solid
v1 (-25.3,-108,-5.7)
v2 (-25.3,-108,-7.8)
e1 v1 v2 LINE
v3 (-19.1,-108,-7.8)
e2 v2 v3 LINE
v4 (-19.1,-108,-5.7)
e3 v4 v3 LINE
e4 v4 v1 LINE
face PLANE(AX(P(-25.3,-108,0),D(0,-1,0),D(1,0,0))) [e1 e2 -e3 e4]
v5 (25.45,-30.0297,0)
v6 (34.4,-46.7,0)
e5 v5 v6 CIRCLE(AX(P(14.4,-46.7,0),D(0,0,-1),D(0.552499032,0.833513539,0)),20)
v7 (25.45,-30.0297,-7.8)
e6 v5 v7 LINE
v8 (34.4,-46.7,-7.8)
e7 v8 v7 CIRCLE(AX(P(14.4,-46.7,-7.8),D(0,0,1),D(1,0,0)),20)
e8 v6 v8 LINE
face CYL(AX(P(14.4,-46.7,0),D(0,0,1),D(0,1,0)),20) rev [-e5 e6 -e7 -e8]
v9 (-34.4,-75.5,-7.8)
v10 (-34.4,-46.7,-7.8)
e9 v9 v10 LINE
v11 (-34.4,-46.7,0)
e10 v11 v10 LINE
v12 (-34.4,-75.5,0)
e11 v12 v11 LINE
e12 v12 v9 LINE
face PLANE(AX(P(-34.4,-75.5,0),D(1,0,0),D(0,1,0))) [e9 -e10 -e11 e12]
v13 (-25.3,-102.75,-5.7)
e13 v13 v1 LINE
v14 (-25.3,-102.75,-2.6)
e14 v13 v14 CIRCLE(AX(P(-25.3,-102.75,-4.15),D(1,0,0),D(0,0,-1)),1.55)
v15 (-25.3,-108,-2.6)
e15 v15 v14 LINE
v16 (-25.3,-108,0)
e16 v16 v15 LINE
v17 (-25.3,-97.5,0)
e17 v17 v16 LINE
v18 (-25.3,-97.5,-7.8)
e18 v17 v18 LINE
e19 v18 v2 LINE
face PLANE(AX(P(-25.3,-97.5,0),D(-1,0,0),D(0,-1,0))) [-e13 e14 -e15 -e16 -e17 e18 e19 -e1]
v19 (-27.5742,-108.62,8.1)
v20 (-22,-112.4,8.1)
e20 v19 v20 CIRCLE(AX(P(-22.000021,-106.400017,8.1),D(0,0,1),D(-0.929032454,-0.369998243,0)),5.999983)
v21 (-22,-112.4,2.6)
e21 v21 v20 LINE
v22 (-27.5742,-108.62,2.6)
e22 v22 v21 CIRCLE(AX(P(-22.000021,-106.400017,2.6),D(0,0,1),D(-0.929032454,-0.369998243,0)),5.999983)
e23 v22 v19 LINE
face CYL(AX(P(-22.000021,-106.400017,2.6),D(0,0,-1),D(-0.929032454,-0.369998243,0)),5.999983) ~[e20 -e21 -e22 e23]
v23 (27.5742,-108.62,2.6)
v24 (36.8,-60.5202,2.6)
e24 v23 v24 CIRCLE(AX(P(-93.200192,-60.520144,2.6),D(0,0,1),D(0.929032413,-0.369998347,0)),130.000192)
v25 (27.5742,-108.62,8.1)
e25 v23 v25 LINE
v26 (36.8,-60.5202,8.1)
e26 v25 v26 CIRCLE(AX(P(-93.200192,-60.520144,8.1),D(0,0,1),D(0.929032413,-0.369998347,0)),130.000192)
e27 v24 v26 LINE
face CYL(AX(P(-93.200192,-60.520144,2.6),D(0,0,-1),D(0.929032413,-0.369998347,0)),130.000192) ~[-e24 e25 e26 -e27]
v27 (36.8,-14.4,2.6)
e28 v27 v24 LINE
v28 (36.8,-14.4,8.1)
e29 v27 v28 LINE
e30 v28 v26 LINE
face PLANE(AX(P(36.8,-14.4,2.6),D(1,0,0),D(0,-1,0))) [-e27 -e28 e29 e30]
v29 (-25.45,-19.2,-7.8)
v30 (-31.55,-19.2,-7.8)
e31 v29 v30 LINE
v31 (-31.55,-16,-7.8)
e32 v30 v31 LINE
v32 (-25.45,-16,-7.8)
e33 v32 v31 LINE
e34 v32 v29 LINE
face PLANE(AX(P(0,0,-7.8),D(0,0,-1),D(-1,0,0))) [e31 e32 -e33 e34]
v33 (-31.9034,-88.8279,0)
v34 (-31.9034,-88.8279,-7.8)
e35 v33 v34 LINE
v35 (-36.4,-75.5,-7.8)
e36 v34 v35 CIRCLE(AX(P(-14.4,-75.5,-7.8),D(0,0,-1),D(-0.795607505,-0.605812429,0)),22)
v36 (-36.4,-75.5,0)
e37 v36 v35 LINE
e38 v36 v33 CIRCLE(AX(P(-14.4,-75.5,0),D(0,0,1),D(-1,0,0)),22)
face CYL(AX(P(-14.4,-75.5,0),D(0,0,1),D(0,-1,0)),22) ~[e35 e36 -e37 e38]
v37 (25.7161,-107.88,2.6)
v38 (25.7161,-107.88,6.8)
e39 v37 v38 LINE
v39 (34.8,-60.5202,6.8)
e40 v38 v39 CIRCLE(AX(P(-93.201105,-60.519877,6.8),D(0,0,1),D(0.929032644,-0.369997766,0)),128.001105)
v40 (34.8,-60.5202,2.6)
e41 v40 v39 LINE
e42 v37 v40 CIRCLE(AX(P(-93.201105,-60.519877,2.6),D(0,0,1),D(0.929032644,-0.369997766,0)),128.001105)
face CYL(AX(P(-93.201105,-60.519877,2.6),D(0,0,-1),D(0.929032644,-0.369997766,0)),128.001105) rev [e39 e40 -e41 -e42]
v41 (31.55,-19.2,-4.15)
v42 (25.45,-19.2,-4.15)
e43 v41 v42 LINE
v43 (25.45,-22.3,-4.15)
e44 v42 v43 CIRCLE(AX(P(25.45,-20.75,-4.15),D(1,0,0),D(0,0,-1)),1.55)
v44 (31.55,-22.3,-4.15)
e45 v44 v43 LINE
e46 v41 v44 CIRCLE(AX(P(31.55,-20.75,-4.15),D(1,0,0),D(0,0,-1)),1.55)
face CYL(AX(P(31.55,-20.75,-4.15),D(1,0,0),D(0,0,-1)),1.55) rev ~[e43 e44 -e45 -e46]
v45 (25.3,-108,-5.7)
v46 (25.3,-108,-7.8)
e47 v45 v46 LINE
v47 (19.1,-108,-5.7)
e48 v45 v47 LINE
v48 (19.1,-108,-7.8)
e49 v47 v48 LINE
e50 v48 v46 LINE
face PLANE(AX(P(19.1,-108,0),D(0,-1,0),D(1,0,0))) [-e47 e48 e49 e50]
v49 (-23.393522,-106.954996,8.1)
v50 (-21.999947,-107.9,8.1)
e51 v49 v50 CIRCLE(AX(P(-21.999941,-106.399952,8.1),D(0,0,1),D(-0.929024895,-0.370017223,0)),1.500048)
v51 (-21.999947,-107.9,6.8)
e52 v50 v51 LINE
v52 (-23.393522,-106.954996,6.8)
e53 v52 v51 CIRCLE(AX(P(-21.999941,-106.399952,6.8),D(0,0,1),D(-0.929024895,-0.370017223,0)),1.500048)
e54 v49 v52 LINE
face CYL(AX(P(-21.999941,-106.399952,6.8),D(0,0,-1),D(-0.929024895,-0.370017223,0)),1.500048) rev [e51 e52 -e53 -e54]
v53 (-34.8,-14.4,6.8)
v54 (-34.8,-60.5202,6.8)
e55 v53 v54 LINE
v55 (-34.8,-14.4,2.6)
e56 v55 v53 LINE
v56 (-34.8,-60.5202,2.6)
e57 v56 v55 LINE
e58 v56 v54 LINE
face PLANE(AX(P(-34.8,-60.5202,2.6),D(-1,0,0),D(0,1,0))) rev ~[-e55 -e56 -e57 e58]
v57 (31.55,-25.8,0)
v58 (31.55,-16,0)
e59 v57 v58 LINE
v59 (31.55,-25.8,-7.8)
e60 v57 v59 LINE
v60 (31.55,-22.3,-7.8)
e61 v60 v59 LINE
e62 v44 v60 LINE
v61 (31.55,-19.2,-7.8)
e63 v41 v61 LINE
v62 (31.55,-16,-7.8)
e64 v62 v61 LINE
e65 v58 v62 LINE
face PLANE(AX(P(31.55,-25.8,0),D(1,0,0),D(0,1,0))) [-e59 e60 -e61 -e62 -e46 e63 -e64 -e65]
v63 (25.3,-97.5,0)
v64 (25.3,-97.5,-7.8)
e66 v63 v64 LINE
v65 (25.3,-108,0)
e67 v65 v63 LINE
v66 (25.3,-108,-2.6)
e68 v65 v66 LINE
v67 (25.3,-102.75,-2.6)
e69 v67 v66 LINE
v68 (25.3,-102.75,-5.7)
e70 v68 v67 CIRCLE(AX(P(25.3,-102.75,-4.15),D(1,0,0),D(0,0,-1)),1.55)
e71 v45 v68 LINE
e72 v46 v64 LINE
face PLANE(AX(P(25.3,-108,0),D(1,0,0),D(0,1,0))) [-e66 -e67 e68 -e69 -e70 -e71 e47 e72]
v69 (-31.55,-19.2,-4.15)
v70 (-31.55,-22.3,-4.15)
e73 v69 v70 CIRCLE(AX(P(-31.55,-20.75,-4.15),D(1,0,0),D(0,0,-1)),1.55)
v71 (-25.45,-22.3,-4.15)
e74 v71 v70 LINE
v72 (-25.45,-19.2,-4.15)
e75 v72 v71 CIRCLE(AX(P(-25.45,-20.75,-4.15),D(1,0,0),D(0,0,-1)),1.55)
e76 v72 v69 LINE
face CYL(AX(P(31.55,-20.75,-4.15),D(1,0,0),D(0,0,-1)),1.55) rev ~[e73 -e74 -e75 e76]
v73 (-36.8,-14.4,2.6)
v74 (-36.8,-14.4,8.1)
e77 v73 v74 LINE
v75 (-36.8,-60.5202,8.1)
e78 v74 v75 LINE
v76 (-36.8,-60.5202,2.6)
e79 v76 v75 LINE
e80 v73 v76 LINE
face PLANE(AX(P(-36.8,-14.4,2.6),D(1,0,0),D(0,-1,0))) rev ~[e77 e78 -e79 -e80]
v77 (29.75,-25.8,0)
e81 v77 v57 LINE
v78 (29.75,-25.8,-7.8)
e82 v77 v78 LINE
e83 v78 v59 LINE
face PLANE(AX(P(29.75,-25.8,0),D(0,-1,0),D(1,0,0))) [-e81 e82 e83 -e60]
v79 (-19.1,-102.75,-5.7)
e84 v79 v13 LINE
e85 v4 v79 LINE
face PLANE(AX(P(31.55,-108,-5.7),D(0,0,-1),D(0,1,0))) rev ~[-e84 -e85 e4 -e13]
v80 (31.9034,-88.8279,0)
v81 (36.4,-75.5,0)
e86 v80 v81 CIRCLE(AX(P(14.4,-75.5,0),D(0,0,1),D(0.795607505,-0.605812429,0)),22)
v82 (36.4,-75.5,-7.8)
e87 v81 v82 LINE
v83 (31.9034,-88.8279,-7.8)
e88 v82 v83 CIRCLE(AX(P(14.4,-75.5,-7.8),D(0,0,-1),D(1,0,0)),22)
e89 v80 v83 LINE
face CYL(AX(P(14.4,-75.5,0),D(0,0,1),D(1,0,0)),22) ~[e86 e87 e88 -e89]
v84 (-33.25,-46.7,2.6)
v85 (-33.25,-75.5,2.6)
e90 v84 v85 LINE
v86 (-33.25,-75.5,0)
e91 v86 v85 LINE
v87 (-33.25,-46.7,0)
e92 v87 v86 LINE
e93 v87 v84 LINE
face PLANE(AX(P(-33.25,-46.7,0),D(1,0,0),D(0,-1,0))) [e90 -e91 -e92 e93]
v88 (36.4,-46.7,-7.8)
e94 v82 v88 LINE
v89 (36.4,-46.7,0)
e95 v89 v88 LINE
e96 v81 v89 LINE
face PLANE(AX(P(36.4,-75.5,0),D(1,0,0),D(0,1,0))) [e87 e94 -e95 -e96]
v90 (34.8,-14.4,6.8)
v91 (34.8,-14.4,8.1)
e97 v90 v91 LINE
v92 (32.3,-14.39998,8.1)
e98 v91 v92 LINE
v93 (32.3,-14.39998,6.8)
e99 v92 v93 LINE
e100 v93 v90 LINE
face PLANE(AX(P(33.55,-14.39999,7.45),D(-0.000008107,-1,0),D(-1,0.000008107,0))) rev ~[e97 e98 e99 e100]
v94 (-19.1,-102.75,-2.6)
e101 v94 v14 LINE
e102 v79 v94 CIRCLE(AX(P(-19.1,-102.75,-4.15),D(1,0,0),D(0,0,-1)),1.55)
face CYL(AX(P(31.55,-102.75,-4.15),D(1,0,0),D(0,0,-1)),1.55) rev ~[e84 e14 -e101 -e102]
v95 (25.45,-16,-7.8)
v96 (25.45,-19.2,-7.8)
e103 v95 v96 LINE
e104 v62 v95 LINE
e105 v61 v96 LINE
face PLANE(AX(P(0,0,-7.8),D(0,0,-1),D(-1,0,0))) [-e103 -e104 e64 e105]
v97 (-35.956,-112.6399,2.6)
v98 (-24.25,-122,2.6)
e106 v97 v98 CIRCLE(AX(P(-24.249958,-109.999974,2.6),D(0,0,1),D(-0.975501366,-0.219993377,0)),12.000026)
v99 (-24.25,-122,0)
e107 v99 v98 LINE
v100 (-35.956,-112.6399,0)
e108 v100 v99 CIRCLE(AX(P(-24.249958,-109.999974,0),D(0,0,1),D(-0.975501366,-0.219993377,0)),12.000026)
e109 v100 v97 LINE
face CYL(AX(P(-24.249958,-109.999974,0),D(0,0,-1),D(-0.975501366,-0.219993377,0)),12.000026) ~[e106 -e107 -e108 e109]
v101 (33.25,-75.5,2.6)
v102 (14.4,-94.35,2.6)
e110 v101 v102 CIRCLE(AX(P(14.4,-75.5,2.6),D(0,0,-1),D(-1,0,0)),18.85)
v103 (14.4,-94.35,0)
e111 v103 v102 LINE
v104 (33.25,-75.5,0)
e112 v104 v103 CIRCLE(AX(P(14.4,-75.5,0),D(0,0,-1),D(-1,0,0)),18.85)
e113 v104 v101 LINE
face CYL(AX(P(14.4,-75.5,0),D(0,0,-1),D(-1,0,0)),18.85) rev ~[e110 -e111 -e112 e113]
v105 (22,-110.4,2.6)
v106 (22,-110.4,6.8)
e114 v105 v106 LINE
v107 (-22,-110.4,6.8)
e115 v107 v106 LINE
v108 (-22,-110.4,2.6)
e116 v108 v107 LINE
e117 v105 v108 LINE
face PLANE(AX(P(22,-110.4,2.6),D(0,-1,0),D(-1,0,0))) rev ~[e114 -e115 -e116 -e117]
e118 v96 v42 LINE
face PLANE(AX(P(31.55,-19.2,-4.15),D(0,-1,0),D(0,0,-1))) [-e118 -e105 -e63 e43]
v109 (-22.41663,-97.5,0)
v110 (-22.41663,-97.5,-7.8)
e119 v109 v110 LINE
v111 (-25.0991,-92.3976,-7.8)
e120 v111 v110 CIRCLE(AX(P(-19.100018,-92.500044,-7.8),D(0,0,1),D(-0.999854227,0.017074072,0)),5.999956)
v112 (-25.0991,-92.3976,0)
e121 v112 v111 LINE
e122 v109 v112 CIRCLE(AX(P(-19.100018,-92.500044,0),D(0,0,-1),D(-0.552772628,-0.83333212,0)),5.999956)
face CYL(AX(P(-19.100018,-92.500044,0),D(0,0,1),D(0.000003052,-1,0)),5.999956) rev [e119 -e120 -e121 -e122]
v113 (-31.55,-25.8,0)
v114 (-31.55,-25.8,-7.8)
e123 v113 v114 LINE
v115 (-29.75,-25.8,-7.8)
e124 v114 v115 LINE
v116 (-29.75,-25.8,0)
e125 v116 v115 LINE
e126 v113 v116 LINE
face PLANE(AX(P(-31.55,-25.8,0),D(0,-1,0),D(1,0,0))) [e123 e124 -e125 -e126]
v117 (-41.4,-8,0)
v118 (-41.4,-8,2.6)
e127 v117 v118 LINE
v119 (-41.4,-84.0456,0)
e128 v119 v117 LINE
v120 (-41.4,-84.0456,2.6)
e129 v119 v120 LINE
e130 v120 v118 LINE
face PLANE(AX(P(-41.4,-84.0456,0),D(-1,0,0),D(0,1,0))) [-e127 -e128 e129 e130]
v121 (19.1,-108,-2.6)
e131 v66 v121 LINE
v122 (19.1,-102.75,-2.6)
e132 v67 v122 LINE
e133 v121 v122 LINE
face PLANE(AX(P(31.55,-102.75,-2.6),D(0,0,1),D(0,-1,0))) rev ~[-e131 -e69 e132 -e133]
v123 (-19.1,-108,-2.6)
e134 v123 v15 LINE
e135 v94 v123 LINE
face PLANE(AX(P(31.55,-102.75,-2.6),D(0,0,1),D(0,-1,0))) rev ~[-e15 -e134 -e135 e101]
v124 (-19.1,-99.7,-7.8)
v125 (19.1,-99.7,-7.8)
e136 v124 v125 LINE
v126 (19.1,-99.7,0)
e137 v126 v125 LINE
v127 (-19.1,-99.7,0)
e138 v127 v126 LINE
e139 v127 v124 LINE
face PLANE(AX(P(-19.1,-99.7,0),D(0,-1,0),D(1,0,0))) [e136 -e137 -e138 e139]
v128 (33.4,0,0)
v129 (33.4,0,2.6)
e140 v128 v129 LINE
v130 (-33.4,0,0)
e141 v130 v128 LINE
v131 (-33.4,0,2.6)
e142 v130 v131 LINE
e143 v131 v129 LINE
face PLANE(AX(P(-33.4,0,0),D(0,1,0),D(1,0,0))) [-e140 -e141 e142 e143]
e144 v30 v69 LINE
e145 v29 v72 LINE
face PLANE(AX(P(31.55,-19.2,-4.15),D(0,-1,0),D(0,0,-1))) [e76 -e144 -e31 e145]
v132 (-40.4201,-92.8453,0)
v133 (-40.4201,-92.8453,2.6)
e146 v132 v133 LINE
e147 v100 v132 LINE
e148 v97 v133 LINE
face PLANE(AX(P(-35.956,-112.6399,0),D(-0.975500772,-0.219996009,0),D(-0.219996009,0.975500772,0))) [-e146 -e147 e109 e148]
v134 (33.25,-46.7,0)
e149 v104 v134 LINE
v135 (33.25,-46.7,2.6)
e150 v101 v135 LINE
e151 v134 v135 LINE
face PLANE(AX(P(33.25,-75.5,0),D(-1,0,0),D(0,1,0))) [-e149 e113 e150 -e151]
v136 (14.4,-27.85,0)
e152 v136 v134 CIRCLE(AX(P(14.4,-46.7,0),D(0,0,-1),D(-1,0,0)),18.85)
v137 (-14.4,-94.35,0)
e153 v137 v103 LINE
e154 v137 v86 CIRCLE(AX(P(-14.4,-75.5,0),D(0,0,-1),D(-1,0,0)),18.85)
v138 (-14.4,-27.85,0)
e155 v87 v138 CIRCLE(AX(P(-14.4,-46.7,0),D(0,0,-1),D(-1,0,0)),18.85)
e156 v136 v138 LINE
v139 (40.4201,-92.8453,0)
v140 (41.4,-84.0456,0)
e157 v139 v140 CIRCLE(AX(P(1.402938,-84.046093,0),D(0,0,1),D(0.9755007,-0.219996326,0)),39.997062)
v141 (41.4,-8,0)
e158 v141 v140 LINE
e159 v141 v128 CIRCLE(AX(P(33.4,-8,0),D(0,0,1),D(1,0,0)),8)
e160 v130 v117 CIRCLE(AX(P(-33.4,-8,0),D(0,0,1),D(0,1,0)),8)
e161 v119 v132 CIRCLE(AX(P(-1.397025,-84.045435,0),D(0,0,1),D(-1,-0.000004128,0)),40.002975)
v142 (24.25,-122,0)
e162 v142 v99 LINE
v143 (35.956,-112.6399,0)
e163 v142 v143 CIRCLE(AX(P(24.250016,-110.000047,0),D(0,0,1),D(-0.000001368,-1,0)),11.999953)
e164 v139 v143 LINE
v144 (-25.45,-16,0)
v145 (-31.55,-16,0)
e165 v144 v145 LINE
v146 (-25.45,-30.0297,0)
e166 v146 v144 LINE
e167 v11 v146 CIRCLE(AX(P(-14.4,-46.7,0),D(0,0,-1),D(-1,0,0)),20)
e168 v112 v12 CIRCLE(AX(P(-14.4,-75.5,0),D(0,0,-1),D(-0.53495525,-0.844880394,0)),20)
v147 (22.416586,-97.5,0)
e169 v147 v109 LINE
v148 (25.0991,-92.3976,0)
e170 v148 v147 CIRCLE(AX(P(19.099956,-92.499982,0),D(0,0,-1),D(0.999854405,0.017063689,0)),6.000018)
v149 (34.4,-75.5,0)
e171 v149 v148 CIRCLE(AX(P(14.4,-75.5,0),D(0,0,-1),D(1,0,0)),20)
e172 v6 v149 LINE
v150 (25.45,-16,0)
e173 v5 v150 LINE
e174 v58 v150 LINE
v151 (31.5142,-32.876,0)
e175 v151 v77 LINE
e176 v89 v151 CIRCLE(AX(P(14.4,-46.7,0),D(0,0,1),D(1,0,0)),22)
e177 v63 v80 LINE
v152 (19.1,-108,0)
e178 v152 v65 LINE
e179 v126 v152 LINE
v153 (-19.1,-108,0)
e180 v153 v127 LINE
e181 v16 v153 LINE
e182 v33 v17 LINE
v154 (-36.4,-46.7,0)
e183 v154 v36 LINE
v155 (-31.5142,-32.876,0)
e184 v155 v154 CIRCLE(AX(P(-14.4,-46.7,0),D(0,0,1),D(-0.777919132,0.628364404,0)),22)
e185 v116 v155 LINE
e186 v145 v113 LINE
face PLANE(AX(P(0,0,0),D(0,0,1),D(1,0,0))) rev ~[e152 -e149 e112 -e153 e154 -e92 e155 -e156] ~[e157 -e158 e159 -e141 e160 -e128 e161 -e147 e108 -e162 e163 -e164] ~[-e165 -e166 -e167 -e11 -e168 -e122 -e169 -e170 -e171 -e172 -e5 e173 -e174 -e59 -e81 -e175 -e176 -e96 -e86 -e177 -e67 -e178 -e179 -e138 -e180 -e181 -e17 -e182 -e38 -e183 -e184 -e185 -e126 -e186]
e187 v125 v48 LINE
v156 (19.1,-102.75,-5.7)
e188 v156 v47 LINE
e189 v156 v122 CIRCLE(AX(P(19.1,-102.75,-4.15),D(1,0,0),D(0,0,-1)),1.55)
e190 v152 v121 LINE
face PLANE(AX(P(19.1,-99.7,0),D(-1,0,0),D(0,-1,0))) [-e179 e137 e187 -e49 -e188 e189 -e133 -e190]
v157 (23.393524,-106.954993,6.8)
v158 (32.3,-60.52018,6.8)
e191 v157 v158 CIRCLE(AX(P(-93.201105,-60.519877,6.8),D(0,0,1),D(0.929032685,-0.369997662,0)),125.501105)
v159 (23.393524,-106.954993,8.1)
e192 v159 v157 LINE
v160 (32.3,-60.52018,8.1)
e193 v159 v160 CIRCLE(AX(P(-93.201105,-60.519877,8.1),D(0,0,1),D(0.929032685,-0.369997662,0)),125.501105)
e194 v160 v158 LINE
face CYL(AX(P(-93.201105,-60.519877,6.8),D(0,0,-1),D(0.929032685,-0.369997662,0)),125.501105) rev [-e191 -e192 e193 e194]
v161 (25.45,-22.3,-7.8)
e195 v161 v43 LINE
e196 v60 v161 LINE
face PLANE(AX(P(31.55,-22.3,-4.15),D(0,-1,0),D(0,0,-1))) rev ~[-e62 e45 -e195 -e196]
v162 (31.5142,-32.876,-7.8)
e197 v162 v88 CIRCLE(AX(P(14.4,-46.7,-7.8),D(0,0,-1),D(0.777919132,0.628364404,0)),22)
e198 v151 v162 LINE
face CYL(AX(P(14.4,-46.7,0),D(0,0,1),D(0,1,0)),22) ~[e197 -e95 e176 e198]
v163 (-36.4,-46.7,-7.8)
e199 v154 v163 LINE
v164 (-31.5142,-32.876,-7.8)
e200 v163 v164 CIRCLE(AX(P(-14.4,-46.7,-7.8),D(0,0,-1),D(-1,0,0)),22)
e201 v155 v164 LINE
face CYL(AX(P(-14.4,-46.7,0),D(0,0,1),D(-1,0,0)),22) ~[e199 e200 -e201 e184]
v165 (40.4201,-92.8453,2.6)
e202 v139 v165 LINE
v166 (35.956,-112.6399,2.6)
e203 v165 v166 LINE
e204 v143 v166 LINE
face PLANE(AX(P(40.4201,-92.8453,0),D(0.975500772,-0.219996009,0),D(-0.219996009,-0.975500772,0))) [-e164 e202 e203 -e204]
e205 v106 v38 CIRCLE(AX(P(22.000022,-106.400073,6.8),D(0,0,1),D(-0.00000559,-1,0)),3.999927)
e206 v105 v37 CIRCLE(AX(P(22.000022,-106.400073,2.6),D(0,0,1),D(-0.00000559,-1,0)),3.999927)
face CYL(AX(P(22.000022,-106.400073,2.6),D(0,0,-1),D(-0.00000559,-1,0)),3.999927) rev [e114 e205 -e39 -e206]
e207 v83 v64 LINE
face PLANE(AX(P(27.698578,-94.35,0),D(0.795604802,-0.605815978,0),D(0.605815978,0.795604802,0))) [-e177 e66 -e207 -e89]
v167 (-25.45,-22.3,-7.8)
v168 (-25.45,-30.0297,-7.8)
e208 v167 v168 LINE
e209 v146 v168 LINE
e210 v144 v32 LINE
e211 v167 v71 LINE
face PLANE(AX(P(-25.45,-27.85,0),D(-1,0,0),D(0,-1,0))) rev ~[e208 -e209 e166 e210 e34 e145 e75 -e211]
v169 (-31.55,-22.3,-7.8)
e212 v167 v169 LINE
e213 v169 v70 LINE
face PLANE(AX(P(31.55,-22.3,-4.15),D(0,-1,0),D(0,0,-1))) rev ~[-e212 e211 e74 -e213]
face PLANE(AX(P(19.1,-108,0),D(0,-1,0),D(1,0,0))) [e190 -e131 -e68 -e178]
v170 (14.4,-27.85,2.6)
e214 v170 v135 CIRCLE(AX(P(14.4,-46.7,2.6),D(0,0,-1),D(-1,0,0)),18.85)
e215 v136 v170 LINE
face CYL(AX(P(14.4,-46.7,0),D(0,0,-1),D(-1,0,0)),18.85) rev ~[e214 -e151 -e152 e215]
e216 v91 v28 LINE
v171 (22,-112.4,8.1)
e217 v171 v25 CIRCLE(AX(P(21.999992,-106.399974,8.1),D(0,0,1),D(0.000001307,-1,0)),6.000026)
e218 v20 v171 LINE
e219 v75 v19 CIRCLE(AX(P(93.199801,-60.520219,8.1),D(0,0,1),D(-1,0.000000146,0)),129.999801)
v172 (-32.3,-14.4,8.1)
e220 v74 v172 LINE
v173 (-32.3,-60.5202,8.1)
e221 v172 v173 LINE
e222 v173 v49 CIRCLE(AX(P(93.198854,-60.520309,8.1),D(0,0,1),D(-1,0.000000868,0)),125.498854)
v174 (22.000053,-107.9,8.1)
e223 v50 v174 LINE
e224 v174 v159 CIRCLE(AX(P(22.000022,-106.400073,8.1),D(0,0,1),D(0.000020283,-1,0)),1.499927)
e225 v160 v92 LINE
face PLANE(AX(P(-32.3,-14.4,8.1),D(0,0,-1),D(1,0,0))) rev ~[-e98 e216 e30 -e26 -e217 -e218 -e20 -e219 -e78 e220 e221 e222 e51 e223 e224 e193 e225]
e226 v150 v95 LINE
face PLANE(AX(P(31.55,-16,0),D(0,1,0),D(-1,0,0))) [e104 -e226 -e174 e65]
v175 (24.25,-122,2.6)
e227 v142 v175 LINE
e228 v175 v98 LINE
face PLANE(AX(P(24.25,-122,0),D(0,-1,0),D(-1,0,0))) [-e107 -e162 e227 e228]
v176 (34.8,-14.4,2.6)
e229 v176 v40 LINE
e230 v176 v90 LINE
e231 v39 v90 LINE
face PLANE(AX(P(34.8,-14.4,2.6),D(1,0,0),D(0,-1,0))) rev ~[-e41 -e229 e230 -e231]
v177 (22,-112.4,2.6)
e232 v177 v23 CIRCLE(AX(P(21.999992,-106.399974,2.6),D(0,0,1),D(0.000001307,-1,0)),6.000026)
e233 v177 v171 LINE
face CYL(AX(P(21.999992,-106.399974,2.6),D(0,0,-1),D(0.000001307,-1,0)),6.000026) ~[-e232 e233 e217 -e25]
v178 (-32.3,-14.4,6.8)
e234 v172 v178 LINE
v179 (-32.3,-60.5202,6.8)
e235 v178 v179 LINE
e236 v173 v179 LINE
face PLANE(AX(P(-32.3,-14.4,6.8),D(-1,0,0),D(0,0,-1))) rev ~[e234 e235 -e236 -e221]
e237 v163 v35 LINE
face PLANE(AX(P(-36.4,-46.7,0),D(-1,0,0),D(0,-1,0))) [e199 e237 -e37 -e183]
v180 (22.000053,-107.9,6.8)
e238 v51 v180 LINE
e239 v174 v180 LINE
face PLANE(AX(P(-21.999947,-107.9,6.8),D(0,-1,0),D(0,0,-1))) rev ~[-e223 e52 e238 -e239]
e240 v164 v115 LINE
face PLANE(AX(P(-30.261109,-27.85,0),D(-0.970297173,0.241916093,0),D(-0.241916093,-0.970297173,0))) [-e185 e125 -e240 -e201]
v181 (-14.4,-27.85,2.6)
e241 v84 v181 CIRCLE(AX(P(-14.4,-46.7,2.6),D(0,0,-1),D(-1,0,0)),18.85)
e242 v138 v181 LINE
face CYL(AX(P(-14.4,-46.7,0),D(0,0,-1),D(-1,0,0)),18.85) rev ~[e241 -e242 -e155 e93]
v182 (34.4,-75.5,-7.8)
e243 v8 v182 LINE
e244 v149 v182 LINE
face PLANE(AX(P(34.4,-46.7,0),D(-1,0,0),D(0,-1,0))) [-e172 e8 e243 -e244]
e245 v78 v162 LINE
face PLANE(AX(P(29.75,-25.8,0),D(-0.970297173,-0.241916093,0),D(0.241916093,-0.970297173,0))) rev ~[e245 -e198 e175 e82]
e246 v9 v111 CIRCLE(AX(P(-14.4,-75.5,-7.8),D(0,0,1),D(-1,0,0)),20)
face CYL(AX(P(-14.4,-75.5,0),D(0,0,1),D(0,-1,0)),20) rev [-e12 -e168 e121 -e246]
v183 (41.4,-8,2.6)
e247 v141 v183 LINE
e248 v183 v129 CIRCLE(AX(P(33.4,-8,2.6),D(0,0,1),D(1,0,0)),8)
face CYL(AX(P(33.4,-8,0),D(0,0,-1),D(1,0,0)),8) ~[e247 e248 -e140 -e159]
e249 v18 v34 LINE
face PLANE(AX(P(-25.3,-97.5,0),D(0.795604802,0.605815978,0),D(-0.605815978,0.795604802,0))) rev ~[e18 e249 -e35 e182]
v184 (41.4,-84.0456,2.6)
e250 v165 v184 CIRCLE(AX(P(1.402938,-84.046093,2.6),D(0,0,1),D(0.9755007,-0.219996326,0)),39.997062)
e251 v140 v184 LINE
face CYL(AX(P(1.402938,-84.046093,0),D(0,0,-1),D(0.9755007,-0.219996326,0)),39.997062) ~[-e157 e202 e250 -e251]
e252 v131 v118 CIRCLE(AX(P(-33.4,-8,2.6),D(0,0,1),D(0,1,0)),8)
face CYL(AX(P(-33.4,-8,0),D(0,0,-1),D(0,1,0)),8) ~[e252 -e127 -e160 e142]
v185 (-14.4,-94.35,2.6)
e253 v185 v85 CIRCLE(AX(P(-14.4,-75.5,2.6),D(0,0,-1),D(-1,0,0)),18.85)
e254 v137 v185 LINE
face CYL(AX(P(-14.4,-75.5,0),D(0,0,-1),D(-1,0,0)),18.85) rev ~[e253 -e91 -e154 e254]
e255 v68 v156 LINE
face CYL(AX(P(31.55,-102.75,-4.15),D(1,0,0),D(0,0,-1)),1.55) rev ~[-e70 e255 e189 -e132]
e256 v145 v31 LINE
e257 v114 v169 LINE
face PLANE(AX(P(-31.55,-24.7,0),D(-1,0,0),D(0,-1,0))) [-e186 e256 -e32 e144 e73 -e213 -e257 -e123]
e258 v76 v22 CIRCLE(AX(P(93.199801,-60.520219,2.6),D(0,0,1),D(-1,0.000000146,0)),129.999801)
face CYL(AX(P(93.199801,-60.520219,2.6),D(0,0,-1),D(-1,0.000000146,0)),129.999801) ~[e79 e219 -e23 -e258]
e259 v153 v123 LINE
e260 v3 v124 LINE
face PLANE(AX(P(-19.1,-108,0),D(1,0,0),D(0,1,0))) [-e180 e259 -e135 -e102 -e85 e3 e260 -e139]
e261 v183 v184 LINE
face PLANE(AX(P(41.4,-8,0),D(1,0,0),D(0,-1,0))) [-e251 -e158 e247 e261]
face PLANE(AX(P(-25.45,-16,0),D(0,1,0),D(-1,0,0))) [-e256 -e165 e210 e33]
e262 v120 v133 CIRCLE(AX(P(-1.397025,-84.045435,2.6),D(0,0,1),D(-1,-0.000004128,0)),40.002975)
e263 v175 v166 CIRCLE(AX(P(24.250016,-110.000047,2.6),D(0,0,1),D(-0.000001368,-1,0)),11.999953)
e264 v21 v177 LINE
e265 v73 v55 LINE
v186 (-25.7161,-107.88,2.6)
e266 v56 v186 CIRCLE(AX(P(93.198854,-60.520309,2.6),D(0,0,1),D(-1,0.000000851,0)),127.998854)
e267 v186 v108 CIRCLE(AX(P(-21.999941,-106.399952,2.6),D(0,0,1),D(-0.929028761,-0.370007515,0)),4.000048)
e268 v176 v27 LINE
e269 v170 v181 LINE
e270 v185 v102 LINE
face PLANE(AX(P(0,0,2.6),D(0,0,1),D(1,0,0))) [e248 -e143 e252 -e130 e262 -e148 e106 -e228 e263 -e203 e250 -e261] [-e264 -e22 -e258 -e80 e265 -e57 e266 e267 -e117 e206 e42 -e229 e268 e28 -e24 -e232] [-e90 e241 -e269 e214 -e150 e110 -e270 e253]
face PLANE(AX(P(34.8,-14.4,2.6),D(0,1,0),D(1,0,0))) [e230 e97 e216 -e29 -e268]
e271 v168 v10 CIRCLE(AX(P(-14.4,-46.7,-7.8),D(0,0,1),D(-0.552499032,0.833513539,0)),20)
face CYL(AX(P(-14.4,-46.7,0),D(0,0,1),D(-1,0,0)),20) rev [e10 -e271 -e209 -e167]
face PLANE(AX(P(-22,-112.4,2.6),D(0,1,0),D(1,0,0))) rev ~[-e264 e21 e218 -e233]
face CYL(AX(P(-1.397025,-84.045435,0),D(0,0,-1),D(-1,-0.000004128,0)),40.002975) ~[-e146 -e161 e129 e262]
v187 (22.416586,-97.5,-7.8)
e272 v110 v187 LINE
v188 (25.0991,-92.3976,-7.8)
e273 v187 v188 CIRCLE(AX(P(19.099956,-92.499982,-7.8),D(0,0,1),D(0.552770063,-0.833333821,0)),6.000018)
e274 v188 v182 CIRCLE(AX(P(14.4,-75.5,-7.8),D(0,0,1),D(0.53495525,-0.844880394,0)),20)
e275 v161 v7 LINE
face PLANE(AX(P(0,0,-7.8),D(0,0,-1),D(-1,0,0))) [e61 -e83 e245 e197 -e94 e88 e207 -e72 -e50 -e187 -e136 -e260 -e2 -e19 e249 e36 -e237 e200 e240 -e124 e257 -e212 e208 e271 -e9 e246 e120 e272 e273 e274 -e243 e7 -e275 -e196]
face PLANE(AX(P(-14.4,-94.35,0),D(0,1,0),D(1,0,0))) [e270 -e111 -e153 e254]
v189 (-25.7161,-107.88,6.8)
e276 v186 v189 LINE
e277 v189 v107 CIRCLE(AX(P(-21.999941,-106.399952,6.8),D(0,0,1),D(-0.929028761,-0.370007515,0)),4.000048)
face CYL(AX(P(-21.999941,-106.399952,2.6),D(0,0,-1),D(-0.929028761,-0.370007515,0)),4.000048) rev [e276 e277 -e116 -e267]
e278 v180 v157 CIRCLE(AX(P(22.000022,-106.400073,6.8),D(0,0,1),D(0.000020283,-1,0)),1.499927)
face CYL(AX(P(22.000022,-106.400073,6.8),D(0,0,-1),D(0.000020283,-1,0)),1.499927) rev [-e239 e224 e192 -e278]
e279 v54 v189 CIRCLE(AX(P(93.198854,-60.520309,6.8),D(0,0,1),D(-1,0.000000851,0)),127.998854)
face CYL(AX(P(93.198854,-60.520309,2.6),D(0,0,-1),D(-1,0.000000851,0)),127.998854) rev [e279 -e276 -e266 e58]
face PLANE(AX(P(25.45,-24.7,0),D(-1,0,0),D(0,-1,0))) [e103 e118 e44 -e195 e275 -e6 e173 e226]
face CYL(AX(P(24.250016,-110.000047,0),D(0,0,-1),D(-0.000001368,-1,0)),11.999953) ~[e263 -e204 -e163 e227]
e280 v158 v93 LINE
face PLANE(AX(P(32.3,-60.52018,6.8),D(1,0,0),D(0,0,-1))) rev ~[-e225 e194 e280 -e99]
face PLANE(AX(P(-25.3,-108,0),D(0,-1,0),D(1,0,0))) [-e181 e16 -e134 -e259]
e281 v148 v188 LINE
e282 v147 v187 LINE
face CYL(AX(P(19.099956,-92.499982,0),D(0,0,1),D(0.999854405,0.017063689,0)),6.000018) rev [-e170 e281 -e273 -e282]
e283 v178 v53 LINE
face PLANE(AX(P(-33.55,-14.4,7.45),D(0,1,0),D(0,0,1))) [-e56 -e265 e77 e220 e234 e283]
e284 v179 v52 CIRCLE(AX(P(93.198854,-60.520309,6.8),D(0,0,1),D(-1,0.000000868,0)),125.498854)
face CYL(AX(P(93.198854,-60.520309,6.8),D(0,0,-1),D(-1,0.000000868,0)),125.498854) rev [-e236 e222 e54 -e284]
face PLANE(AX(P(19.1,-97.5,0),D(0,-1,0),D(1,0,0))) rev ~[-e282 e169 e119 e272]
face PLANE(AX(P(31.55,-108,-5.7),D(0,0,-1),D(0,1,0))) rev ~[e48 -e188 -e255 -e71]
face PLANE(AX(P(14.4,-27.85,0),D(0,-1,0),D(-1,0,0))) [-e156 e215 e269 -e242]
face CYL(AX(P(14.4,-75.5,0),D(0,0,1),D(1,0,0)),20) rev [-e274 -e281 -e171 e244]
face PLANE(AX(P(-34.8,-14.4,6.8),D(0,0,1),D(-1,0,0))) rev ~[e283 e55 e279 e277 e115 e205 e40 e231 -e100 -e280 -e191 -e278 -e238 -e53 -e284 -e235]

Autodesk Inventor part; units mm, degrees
ref_plane "YZ Plane" through (0, 0, 0) normal (1, 0, 0) x (0, 1, 0)
ref_plane "XZ Plane" through (0, 0, 0) normal (0, 1, 0) x (-1, 0, 0)
ref_plane "XY Plane" through (0, 0, 0) normal (0, 0, 1) x (1, 0, 0)
sketch "Skizze1" plane through (0, 0, 0) normal (0, 0, 1) x (1, 0, 0)
  line L0 (-33.4, 0) -> (33.4, 0)
  line L1 (41.4, -8) -> (41.4, -84.0456)
  line L2 (40.4201, -92.8453) -> (35.956, -112.6399)
  line L3 (24.25, -122) -> (-24.25, -122)
  line L4 (-35.956, -112.6399) -> (-40.4201, -92.8453)
  line L5 (-41.4, -84.0456) -> (-41.4, -8)
  line L6 (0, 0) -> (0, -122) construction
  arc A0 (-41.4, -84.0456) -> (-40.4201, -92.8453) centre (-1.4, -84.0456) ccw
  arc A1 (40.4201, -92.8453) -> (41.4, -84.0456) centre (1.4, -84.0456) ccw
  arc A2 (-35.956, -112.6399) -> (-24.25, -122) centre (-24.25, -110) ccw
  arc A3 (24.25, -122) -> (35.956, -112.6399) centre (24.25, -110) ccw
  arc A4 (-33.4, 0) -> (-41.4, -8) centre (-33.4, -8) ccw
  arc A5 (41.4, -8) -> (33.4, 0) centre (33.4, -8) ccw
  point P0 (33.8452, -122)
  point P1 (-33.8452, -122)
  point P2 (-41.4, -88.5)
  dimension "d1" = 82.8
  dimension "d2" = 122
  dimension "d3" = 33.5
  dimension "d4" = 40
  dimension "d5" = 12
  dimension "d6" = 8
  dimension "d15" = 48.5
extrude "Extrusion1" add sketch "Skizze1" along normal blind 2.6
sketch "Skizze2" plane through (0, 0, 2.6) normal (0, 0, 1) x (1, 0, 0)
  line L0 (-36.8, -14.4) -> (-36.8, -60.5202)
  arc A0 (-36.8, -60.5202) -> (-27.5742, -108.62) centre (93.2, -60.5202) ccw
  line L1 (-22, -112.4) -> (22, -112.4)
  line L2 (36.8, -14.4) -> (36.8, -60.5202)
  arc A1 (27.5742, -108.62) -> (36.8, -60.5202) centre (-93.2, -60.5202) ccw
  line L3 (-36.8, -60.5202) -> (36.8, -60.5202) construction
  line L4 (-36.8, -14.4) -> (36.8, -14.4) construction
  line L5 (0, 0) -> (0, -122) construction
  line L6 (-24.25, -122) -> (24.25, -122) construction
  arc A2 (-27.5742, -108.62) -> (-22, -112.4) centre (-22, -106.4) ccw
  arc A3 (22, -112.4) -> (27.5742, -108.62) centre (22, -106.4) ccw
  line L7 (41.4, -84.0456) -> (41.4, -8) construction
  line L8 (-41.4, -8) -> (-41.4, -84.0456) construction
  line L9 (-34.8, -60.5202) -> (-34.8, -14.4)
  line L10 (34.8, -14.4) -> (34.8, -60.5202)
  arc A4 (25.7161, -107.88) -> (34.8, -60.5202) centre (-93.2, -60.5202) ccw
  arc A5 (22, -110.4) -> (25.7161, -107.88) centre (22, -106.4) ccw
  line L11 (22, -110.4) -> (-22, -110.4)
  arc A6 (-25.7161, -107.88) -> (-22, -110.4) centre (-22, -106.4) ccw
  arc A7 (-34.8, -60.5202) -> (-25.7161, -107.88) centre (93.2, -60.5202) ccw
  line L12 (-36.8, -14.4) -> (-34.8, -14.4)
  line L13 (34.8, -14.4) -> (36.8, -14.4)
  point P0 (-25.9993, -112.4)
  point P1 (25.9993, -112.4)
  point P2 (0, -14.4)
  dimension "d9" = 6
  dimension "d10" = 6
  dimension "d11" = 130
  dimension "d12" = 4.6
  dimension "d13" = 9.6
  dimension "d14" = 44
  dimension "d16" = 14.4
  dimension "d17" = 2
extrude "Extrusion2" add sketch "Skizze2" along normal blind 5.5
sketch "Skizze3" plane through (-36.8, -14.4, 2.6) normal (0, 1, 0) x (1, 0, 0)
  line L0 (2, -4.2) -> (4.5, -4.2)
  line L1 (4.5, -4.2) -> (4.5, -5.5)
  line L2 (4.5, -5.5) -> (2, -5.5)
  line L3 (2, -5.5) -> (2, -4.2)
  line L4 (0, 0) -> (0, -5.5) projected
  point P0 (36.8, 2.6)
  dimension "d20" = 4.5
  dimension "d21" = 1.3
sketch "Skizze4" plane through (0, 0, 8.1) normal (0, 0, 1) x (1, 0, 0)
  line L0 (-34.8, -60.5202) -> (-34.8, -14.4) projected
  arc A0 (-34.8, -60.5202) -> (-25.7161, -107.88) centre (93.2, -60.5202) ccw projected
  arc A1 (-25.7161, -107.88) -> (-22, -110.4) centre (-22, -106.4) ccw projected
  line L1 (22, -110.4) -> (-22, -110.4) projected
  arc A2 (22, -110.4) -> (25.7161, -107.88) centre (22, -106.4) ccw projected
  arc A3 (25.7161, -107.88) -> (34.8, -60.5202) centre (-93.2, -60.5202) ccw projected
  line L2 (34.8, -14.4) -> (34.8, -60.5202) projected
  point P0 (0, 0)
sketch3d "3D-Skizze1"
  line L0 (-34.8, -14.4, 8.1) -> (-34.8, -60.5202, 8.1)
  arc A0 (-34.8, -60.5202, 8.1) -> (-25.7161, -107.88, 8.1) centre (93.2, -60.5202, 8.1) ccw
  arc A1 (-25.7161, -107.88, 8.1) -> (-22, -110.4, 8.1) centre (-22, -106.4, 8.1) ccw
  line L1 (-22, -110.4, 8.1) -> (22, -110.4, 8.1)
  arc A2 (22, -110.4, 8.1) -> (25.7161, -107.88, 8.1) centre (22, -106.4, 8.1) ccw
  arc A3 (25.7161, -107.88, 8.1) -> (34.8, -60.5202, 8.1) centre (-93.2, -60.5202, 8.1) ccw
  line L2 (34.8, -60.5202, 8.1) -> (34.8, -14.4, 8.1)
sweep "Sweeping1" add profiles "Skizze3" path "3D-Skizze1"
sketch "Skizze5" plane through (0, 0, 0) normal (0, 0, -1) x (-1, 0, 0)
  line L0 (-36.4, -24.7) -> (36.4, -24.7)
  line L1 (36.4, -24.7) -> (36.4, -97.5)
  line L2 (36.4, -97.5) -> (-36.4, -97.5)
  line L3 (-36.4, -97.5) -> (-36.4, -24.7)
  line L4 (-36.4, -24.7) -> (36.4, -97.5) construction
  line L5 (36.4, -24.7) -> (-36.4, -97.5) construction
  circle A0 centre (14.4, -46.7) radius 22 construction
  line L6 (0, 0) -> (0, -122) construction
  line L7 (24.25, -122) -> (-24.25, -122) construction
  line L8 (34.4, -26.7) -> (-34.4, -26.7)
  line L9 (-34.4, -26.7) -> (-34.4, -95.5)
  line L10 (-34.4, -95.5) -> (34.4, -95.5)
  line L11 (34.4, -95.5) -> (34.4, -26.7)
  line L12 (34.4, -26.7) -> (-34.4, -95.5) construction
  line L13 (-34.4, -26.7) -> (34.4, -95.5) construction
  circle A1 centre (-14.4, -46.7) radius 22 construction
  circle A2 centre (-14.4, -75.5) radius 22 construction
  circle A3 centre (14.4, -75.5) radius 22 construction
  line L14 (41.4, -8) -> (41.4, -84.0456) construction
  arc A4 (-36.4, -75.5) -> (-14.4, -97.5) centre (-14.4, -75.5) ccw
  arc A5 (-14.4, -24.7) -> (-36.4, -46.7) centre (-14.4, -46.7) ccw
  arc A6 (36.4, -46.7) -> (14.4, -24.7) centre (14.4, -46.7) ccw
  arc A7 (14.4, -97.5) -> (36.4, -75.5) centre (14.4, -75.5) ccw
  line L15 (-25.3, -97.5) -> (-19.1, -97.5)
  line L16 (-19.1, -97.5) -> (-19.1, -108)
  line L17 (-19.1, -108) -> (-25.3, -108)
  line L18 (-25.3, -108) -> (-25.3, -97.5)
  line L19 (19.1, -97.5) -> (25.3, -97.5)
  line L20 (25.3, -97.5) -> (25.3, -108)
  line L21 (25.3, -108) -> (19.1, -108)
  line L22 (19.1, -108) -> (19.1, -97.5)
  line L23 (-19.1, -108) -> (19.1, -108) construction
  arc A8 (-14.4, -26.7) -> (-34.4, -46.7) centre (-14.4, -46.7) ccw
  arc A9 (34.4, -46.7) -> (14.4, -26.7) centre (14.4, -46.7) ccw
  arc A10 (14.4, -95.5) -> (34.4, -75.5) centre (14.4, -75.5) ccw
  arc A11 (-34.4, -75.5) -> (-14.4, -95.5) centre (-14.4, -75.5) ccw
  line L24 (-25.3, -97.5) -> (-31.9034, -88.8279)
  line L25 (25.3, -97.5) -> (31.9034, -88.8279)
  line L26 (-19.1, -98.5) -> (19.1, -98.5)
  line L27 (19.1, -98.5) -> (19.1, -99.7)
  line L28 (19.1, -99.7) -> (-19.1, -99.7)
  line L29 (-19.1, -99.7) -> (-19.1, -98.5)
  arc A12 (-25.0991, -92.3976) -> (-19.1, -98.5) centre (-19.1, -92.5) ccw
  arc A13 (19.1, -98.5) -> (25.0991, -92.3976) centre (19.1, -92.5) ccw
  line L30 (-31.55, -16) -> (-25.45, -16)
  line L31 (-25.45, -16) -> (-25.45, -25.8)
  line L32 (-25.45, -25.8) -> (-31.55, -25.8)
  line L33 (-31.55, -25.8) -> (-31.55, -16)
  line L34 (25.45, -16) -> (31.55, -16)
  line L35 (31.55, -16) -> (31.55, -25.8)
  line L36 (31.55, -25.8) -> (25.45, -25.8)
  line L37 (25.45, -25.8) -> (25.45, -16)
  line L38 (-25.45, -16) -> (25.45, -16) construction
  line L39 (-29.75, -25.8) -> (-31.5142, -32.876)
  line L40 (29.75, -25.8) -> (31.5142, -32.876)
  line L41 (-29.75, -25.8) -> (-29.75, -30.94) construction
  line L42 (29.75, -25.8) -> (29.75, -30.94) construction
  line L43 (-25.45, -25.8) -> (-25.45, -30.0297)
  line L44 (25.45, -25.8) -> (25.45, -30.0297)
  line L45 (-33.25, -27.85) -> (33.25, -27.85)
  line L46 (33.25, -27.85) -> (33.25, -94.35)
  line L47 (33.25, -94.35) -> (-33.25, -94.35)
  line L48 (-33.25, -94.35) -> (-33.25, -27.85)
  line L49 (-33.25, -27.85) -> (33.25, -94.35) construction
  line L50 (33.25, -27.85) -> (-33.25, -94.35) construction
  circle A14 centre (-14.4, -75.5) radius 18.85
  circle A15 centre (-14.4, -46.7) radius 18.85
  circle A16 centre (14.4, -46.7) radius 18.85
  circle A17 centre (14.4, -75.5) radius 18.85
  point P0 (0, -61.1)
  point P1 (0, -24.7)
  point P2 (0, -108)
  point P3 (0, -16)
  point P4 (34.4, -46.7)
  point P5 (34.4, -75.5)
  point P6 (22.4166, -97.5)
  point P7 (-22.4166, -97.5)
  point P8 (-34.4, -75.5)
  point P9 (-34.4, -46.7)
  point P10 (-33.25, -40.0159)
  point P11 (-33.25, -82.1841)
  point P12 (-21.0841, -94.35)
  point P13 (21.0841, -94.35)
  point P14 (33.25, -82.1841)
  point P15 (33.25, -40.0159)
  point P16 (21.0841, -27.85)
  point P17 (-21.0841, -27.85)
  point P18 (14.4, -27.85)
  point P19 (-14.4, -27.85)
  point P20 (-33.25, -46.7)
  point P21 (-33.25, -75.5)
  point P22 (-14.4, -94.35)
  point P23 (14.4, -94.35)
  point P24 (33.25, -75.5)
  point P25 (33.25, -46.7)
  dimension "d25" = 2
  dimension "d26" = 22
  dimension "d27" = 5
  dimension "d29" = 6.2
  dimension "d30" = 6.2
  dimension "d31" = 38.2
  dimension "d33" = 1.2
  dimension "d34" = 3
  dimension "d35" = 6
  dimension "d36" = 6
  dimension "d37" = 63.1
  dimension "d38" = 6.1
  dimension "d39" = 6.1
  dimension "d40" = 92
  dimension "d41" = 9.8
  dimension "d42" = 37.287
  dimension "d44" = 1.8
  dimension "d45" = 1.8
  dimension "d46" = 14
  dimension "d79" = 66.5
  dimension "d80" = 66.5
  dimension "d83" = 22.3
  dimension "d84" = 14
extrude "Extrusion3" add sketch "Skizze5" along normal blind 7.8 contours L31 L32 L33 L0 | L0 L33 L30 L31 | L37 L34 L35 L0 | L0 L35 L36 L37 | L43 L8 L39 L32 | L43 A5 L45 L39 L8 | L43 L45 A5 | L36 L40 L8 L44 | L8 L40 L45 A6 L44 | A6 L45 L44 | L45 L43 A8 L48 A5 | A5 L39 L45 | L45 L40 A6 | A6 L46 A9 L44 L45 | A5 L9 A4 L3 | L1 A7 L11 A6 | A5 L48 A8 L9 | L11 A9 L46 A6 | L9 A11 L48 A4 | A7 L46 A10 L11 | L24 L10 A12 L2 | L2 A12 L16 L17 L18 | L48 A11 A12 L47 A4 | L20 L21 L22 A13 L2 | L2 A13 L10 L25 | A7 L47 A13 A10 L46 | L2 L16 A12 | L24 L47 A4 A12 L10 | A4 L47 L24 | A13 L22 L2 | L10 A13 A7 L47 L25 | L25 L47 A7 | L2 L22 L26 L16 | L26 L22 L28 L16 | L47 A12 A4 | A7 A13 L47
sketch "Skizze6" plane through (31.55, -25.8, 0) normal (1, 0, 0) x (0, 0, -1)
  line L0 (0, 0) -> (7.8, 0) construction
  circle A0 centre (4.15, 5.05) radius 1.55
  line L1 (7.8, 9.8) -> (7.8, 0) projected
  line L2 (4.15, 3.5) -> (7.8, 3.5)
  line L3 (4.15, 6.6) -> (7.8, 6.6)
  line L4 (2.6, 5.05) -> (2.6, 0) construction
  circle A1 centre (4.15, -76.95) radius 1.55
  line L5 (2.6, -76.95) -> (2.6, -82.2)
  line L6 (0, -82.2) -> (7.8, -82.2) construction
  line L7 (2.6, -82.2) -> (5.7, -82.2)
  line L8 (5.7, -82.2) -> (5.7, -76.95)
  line L9 (4.15, -75.4) -> (7.8, -75.4) construction
  line L10 (7.8, -71.7) -> (7.8, -82.2) construction
  line L11 (4.15, -82.2) -> (4.15, -76.95) construction
  line L12 (7.8, -20.9) -> (7.8, -49.7) construction
  line L13 (4.15, 5.05) -> (4.15, -76.95) construction
  point P0 (0, 25.8)
  dimension "d49" = 3.1
  dimension "d50" = 3.5
  dimension "d76" = 6.8
  dimension "d77" = 3.1
  dimension "d78" = 5.2
extrude "Extrusion4" cut sketch "Skizze6" against normal through all
ref_plane "Arbeitsebene1" through (0, -75.5, 0) normal (1, 0, 0) x (0, 0, -1)
extrude "Extrusion5" cut sketch "Skizze5" against normal up to surface (2.6 mm away) contours L45 A16 A15 | A15 A16 A14 | A16 A17 A15 | A15 A16 | A15 A14 L48 | L46 A17 A16 | A16 A17 A14 A15 | A14 A15 A17 | A14 A15 | A17 A14 A16 | A16 A17 | A14 A17 L47 | A14 A17
equation "\"d9\" = d10"
equation "\"d30\" = d29"
equation "\"d36\" = d35"
properties part number "daVinciTool_Aufnahme" material "PMMA-Kunststoff"
